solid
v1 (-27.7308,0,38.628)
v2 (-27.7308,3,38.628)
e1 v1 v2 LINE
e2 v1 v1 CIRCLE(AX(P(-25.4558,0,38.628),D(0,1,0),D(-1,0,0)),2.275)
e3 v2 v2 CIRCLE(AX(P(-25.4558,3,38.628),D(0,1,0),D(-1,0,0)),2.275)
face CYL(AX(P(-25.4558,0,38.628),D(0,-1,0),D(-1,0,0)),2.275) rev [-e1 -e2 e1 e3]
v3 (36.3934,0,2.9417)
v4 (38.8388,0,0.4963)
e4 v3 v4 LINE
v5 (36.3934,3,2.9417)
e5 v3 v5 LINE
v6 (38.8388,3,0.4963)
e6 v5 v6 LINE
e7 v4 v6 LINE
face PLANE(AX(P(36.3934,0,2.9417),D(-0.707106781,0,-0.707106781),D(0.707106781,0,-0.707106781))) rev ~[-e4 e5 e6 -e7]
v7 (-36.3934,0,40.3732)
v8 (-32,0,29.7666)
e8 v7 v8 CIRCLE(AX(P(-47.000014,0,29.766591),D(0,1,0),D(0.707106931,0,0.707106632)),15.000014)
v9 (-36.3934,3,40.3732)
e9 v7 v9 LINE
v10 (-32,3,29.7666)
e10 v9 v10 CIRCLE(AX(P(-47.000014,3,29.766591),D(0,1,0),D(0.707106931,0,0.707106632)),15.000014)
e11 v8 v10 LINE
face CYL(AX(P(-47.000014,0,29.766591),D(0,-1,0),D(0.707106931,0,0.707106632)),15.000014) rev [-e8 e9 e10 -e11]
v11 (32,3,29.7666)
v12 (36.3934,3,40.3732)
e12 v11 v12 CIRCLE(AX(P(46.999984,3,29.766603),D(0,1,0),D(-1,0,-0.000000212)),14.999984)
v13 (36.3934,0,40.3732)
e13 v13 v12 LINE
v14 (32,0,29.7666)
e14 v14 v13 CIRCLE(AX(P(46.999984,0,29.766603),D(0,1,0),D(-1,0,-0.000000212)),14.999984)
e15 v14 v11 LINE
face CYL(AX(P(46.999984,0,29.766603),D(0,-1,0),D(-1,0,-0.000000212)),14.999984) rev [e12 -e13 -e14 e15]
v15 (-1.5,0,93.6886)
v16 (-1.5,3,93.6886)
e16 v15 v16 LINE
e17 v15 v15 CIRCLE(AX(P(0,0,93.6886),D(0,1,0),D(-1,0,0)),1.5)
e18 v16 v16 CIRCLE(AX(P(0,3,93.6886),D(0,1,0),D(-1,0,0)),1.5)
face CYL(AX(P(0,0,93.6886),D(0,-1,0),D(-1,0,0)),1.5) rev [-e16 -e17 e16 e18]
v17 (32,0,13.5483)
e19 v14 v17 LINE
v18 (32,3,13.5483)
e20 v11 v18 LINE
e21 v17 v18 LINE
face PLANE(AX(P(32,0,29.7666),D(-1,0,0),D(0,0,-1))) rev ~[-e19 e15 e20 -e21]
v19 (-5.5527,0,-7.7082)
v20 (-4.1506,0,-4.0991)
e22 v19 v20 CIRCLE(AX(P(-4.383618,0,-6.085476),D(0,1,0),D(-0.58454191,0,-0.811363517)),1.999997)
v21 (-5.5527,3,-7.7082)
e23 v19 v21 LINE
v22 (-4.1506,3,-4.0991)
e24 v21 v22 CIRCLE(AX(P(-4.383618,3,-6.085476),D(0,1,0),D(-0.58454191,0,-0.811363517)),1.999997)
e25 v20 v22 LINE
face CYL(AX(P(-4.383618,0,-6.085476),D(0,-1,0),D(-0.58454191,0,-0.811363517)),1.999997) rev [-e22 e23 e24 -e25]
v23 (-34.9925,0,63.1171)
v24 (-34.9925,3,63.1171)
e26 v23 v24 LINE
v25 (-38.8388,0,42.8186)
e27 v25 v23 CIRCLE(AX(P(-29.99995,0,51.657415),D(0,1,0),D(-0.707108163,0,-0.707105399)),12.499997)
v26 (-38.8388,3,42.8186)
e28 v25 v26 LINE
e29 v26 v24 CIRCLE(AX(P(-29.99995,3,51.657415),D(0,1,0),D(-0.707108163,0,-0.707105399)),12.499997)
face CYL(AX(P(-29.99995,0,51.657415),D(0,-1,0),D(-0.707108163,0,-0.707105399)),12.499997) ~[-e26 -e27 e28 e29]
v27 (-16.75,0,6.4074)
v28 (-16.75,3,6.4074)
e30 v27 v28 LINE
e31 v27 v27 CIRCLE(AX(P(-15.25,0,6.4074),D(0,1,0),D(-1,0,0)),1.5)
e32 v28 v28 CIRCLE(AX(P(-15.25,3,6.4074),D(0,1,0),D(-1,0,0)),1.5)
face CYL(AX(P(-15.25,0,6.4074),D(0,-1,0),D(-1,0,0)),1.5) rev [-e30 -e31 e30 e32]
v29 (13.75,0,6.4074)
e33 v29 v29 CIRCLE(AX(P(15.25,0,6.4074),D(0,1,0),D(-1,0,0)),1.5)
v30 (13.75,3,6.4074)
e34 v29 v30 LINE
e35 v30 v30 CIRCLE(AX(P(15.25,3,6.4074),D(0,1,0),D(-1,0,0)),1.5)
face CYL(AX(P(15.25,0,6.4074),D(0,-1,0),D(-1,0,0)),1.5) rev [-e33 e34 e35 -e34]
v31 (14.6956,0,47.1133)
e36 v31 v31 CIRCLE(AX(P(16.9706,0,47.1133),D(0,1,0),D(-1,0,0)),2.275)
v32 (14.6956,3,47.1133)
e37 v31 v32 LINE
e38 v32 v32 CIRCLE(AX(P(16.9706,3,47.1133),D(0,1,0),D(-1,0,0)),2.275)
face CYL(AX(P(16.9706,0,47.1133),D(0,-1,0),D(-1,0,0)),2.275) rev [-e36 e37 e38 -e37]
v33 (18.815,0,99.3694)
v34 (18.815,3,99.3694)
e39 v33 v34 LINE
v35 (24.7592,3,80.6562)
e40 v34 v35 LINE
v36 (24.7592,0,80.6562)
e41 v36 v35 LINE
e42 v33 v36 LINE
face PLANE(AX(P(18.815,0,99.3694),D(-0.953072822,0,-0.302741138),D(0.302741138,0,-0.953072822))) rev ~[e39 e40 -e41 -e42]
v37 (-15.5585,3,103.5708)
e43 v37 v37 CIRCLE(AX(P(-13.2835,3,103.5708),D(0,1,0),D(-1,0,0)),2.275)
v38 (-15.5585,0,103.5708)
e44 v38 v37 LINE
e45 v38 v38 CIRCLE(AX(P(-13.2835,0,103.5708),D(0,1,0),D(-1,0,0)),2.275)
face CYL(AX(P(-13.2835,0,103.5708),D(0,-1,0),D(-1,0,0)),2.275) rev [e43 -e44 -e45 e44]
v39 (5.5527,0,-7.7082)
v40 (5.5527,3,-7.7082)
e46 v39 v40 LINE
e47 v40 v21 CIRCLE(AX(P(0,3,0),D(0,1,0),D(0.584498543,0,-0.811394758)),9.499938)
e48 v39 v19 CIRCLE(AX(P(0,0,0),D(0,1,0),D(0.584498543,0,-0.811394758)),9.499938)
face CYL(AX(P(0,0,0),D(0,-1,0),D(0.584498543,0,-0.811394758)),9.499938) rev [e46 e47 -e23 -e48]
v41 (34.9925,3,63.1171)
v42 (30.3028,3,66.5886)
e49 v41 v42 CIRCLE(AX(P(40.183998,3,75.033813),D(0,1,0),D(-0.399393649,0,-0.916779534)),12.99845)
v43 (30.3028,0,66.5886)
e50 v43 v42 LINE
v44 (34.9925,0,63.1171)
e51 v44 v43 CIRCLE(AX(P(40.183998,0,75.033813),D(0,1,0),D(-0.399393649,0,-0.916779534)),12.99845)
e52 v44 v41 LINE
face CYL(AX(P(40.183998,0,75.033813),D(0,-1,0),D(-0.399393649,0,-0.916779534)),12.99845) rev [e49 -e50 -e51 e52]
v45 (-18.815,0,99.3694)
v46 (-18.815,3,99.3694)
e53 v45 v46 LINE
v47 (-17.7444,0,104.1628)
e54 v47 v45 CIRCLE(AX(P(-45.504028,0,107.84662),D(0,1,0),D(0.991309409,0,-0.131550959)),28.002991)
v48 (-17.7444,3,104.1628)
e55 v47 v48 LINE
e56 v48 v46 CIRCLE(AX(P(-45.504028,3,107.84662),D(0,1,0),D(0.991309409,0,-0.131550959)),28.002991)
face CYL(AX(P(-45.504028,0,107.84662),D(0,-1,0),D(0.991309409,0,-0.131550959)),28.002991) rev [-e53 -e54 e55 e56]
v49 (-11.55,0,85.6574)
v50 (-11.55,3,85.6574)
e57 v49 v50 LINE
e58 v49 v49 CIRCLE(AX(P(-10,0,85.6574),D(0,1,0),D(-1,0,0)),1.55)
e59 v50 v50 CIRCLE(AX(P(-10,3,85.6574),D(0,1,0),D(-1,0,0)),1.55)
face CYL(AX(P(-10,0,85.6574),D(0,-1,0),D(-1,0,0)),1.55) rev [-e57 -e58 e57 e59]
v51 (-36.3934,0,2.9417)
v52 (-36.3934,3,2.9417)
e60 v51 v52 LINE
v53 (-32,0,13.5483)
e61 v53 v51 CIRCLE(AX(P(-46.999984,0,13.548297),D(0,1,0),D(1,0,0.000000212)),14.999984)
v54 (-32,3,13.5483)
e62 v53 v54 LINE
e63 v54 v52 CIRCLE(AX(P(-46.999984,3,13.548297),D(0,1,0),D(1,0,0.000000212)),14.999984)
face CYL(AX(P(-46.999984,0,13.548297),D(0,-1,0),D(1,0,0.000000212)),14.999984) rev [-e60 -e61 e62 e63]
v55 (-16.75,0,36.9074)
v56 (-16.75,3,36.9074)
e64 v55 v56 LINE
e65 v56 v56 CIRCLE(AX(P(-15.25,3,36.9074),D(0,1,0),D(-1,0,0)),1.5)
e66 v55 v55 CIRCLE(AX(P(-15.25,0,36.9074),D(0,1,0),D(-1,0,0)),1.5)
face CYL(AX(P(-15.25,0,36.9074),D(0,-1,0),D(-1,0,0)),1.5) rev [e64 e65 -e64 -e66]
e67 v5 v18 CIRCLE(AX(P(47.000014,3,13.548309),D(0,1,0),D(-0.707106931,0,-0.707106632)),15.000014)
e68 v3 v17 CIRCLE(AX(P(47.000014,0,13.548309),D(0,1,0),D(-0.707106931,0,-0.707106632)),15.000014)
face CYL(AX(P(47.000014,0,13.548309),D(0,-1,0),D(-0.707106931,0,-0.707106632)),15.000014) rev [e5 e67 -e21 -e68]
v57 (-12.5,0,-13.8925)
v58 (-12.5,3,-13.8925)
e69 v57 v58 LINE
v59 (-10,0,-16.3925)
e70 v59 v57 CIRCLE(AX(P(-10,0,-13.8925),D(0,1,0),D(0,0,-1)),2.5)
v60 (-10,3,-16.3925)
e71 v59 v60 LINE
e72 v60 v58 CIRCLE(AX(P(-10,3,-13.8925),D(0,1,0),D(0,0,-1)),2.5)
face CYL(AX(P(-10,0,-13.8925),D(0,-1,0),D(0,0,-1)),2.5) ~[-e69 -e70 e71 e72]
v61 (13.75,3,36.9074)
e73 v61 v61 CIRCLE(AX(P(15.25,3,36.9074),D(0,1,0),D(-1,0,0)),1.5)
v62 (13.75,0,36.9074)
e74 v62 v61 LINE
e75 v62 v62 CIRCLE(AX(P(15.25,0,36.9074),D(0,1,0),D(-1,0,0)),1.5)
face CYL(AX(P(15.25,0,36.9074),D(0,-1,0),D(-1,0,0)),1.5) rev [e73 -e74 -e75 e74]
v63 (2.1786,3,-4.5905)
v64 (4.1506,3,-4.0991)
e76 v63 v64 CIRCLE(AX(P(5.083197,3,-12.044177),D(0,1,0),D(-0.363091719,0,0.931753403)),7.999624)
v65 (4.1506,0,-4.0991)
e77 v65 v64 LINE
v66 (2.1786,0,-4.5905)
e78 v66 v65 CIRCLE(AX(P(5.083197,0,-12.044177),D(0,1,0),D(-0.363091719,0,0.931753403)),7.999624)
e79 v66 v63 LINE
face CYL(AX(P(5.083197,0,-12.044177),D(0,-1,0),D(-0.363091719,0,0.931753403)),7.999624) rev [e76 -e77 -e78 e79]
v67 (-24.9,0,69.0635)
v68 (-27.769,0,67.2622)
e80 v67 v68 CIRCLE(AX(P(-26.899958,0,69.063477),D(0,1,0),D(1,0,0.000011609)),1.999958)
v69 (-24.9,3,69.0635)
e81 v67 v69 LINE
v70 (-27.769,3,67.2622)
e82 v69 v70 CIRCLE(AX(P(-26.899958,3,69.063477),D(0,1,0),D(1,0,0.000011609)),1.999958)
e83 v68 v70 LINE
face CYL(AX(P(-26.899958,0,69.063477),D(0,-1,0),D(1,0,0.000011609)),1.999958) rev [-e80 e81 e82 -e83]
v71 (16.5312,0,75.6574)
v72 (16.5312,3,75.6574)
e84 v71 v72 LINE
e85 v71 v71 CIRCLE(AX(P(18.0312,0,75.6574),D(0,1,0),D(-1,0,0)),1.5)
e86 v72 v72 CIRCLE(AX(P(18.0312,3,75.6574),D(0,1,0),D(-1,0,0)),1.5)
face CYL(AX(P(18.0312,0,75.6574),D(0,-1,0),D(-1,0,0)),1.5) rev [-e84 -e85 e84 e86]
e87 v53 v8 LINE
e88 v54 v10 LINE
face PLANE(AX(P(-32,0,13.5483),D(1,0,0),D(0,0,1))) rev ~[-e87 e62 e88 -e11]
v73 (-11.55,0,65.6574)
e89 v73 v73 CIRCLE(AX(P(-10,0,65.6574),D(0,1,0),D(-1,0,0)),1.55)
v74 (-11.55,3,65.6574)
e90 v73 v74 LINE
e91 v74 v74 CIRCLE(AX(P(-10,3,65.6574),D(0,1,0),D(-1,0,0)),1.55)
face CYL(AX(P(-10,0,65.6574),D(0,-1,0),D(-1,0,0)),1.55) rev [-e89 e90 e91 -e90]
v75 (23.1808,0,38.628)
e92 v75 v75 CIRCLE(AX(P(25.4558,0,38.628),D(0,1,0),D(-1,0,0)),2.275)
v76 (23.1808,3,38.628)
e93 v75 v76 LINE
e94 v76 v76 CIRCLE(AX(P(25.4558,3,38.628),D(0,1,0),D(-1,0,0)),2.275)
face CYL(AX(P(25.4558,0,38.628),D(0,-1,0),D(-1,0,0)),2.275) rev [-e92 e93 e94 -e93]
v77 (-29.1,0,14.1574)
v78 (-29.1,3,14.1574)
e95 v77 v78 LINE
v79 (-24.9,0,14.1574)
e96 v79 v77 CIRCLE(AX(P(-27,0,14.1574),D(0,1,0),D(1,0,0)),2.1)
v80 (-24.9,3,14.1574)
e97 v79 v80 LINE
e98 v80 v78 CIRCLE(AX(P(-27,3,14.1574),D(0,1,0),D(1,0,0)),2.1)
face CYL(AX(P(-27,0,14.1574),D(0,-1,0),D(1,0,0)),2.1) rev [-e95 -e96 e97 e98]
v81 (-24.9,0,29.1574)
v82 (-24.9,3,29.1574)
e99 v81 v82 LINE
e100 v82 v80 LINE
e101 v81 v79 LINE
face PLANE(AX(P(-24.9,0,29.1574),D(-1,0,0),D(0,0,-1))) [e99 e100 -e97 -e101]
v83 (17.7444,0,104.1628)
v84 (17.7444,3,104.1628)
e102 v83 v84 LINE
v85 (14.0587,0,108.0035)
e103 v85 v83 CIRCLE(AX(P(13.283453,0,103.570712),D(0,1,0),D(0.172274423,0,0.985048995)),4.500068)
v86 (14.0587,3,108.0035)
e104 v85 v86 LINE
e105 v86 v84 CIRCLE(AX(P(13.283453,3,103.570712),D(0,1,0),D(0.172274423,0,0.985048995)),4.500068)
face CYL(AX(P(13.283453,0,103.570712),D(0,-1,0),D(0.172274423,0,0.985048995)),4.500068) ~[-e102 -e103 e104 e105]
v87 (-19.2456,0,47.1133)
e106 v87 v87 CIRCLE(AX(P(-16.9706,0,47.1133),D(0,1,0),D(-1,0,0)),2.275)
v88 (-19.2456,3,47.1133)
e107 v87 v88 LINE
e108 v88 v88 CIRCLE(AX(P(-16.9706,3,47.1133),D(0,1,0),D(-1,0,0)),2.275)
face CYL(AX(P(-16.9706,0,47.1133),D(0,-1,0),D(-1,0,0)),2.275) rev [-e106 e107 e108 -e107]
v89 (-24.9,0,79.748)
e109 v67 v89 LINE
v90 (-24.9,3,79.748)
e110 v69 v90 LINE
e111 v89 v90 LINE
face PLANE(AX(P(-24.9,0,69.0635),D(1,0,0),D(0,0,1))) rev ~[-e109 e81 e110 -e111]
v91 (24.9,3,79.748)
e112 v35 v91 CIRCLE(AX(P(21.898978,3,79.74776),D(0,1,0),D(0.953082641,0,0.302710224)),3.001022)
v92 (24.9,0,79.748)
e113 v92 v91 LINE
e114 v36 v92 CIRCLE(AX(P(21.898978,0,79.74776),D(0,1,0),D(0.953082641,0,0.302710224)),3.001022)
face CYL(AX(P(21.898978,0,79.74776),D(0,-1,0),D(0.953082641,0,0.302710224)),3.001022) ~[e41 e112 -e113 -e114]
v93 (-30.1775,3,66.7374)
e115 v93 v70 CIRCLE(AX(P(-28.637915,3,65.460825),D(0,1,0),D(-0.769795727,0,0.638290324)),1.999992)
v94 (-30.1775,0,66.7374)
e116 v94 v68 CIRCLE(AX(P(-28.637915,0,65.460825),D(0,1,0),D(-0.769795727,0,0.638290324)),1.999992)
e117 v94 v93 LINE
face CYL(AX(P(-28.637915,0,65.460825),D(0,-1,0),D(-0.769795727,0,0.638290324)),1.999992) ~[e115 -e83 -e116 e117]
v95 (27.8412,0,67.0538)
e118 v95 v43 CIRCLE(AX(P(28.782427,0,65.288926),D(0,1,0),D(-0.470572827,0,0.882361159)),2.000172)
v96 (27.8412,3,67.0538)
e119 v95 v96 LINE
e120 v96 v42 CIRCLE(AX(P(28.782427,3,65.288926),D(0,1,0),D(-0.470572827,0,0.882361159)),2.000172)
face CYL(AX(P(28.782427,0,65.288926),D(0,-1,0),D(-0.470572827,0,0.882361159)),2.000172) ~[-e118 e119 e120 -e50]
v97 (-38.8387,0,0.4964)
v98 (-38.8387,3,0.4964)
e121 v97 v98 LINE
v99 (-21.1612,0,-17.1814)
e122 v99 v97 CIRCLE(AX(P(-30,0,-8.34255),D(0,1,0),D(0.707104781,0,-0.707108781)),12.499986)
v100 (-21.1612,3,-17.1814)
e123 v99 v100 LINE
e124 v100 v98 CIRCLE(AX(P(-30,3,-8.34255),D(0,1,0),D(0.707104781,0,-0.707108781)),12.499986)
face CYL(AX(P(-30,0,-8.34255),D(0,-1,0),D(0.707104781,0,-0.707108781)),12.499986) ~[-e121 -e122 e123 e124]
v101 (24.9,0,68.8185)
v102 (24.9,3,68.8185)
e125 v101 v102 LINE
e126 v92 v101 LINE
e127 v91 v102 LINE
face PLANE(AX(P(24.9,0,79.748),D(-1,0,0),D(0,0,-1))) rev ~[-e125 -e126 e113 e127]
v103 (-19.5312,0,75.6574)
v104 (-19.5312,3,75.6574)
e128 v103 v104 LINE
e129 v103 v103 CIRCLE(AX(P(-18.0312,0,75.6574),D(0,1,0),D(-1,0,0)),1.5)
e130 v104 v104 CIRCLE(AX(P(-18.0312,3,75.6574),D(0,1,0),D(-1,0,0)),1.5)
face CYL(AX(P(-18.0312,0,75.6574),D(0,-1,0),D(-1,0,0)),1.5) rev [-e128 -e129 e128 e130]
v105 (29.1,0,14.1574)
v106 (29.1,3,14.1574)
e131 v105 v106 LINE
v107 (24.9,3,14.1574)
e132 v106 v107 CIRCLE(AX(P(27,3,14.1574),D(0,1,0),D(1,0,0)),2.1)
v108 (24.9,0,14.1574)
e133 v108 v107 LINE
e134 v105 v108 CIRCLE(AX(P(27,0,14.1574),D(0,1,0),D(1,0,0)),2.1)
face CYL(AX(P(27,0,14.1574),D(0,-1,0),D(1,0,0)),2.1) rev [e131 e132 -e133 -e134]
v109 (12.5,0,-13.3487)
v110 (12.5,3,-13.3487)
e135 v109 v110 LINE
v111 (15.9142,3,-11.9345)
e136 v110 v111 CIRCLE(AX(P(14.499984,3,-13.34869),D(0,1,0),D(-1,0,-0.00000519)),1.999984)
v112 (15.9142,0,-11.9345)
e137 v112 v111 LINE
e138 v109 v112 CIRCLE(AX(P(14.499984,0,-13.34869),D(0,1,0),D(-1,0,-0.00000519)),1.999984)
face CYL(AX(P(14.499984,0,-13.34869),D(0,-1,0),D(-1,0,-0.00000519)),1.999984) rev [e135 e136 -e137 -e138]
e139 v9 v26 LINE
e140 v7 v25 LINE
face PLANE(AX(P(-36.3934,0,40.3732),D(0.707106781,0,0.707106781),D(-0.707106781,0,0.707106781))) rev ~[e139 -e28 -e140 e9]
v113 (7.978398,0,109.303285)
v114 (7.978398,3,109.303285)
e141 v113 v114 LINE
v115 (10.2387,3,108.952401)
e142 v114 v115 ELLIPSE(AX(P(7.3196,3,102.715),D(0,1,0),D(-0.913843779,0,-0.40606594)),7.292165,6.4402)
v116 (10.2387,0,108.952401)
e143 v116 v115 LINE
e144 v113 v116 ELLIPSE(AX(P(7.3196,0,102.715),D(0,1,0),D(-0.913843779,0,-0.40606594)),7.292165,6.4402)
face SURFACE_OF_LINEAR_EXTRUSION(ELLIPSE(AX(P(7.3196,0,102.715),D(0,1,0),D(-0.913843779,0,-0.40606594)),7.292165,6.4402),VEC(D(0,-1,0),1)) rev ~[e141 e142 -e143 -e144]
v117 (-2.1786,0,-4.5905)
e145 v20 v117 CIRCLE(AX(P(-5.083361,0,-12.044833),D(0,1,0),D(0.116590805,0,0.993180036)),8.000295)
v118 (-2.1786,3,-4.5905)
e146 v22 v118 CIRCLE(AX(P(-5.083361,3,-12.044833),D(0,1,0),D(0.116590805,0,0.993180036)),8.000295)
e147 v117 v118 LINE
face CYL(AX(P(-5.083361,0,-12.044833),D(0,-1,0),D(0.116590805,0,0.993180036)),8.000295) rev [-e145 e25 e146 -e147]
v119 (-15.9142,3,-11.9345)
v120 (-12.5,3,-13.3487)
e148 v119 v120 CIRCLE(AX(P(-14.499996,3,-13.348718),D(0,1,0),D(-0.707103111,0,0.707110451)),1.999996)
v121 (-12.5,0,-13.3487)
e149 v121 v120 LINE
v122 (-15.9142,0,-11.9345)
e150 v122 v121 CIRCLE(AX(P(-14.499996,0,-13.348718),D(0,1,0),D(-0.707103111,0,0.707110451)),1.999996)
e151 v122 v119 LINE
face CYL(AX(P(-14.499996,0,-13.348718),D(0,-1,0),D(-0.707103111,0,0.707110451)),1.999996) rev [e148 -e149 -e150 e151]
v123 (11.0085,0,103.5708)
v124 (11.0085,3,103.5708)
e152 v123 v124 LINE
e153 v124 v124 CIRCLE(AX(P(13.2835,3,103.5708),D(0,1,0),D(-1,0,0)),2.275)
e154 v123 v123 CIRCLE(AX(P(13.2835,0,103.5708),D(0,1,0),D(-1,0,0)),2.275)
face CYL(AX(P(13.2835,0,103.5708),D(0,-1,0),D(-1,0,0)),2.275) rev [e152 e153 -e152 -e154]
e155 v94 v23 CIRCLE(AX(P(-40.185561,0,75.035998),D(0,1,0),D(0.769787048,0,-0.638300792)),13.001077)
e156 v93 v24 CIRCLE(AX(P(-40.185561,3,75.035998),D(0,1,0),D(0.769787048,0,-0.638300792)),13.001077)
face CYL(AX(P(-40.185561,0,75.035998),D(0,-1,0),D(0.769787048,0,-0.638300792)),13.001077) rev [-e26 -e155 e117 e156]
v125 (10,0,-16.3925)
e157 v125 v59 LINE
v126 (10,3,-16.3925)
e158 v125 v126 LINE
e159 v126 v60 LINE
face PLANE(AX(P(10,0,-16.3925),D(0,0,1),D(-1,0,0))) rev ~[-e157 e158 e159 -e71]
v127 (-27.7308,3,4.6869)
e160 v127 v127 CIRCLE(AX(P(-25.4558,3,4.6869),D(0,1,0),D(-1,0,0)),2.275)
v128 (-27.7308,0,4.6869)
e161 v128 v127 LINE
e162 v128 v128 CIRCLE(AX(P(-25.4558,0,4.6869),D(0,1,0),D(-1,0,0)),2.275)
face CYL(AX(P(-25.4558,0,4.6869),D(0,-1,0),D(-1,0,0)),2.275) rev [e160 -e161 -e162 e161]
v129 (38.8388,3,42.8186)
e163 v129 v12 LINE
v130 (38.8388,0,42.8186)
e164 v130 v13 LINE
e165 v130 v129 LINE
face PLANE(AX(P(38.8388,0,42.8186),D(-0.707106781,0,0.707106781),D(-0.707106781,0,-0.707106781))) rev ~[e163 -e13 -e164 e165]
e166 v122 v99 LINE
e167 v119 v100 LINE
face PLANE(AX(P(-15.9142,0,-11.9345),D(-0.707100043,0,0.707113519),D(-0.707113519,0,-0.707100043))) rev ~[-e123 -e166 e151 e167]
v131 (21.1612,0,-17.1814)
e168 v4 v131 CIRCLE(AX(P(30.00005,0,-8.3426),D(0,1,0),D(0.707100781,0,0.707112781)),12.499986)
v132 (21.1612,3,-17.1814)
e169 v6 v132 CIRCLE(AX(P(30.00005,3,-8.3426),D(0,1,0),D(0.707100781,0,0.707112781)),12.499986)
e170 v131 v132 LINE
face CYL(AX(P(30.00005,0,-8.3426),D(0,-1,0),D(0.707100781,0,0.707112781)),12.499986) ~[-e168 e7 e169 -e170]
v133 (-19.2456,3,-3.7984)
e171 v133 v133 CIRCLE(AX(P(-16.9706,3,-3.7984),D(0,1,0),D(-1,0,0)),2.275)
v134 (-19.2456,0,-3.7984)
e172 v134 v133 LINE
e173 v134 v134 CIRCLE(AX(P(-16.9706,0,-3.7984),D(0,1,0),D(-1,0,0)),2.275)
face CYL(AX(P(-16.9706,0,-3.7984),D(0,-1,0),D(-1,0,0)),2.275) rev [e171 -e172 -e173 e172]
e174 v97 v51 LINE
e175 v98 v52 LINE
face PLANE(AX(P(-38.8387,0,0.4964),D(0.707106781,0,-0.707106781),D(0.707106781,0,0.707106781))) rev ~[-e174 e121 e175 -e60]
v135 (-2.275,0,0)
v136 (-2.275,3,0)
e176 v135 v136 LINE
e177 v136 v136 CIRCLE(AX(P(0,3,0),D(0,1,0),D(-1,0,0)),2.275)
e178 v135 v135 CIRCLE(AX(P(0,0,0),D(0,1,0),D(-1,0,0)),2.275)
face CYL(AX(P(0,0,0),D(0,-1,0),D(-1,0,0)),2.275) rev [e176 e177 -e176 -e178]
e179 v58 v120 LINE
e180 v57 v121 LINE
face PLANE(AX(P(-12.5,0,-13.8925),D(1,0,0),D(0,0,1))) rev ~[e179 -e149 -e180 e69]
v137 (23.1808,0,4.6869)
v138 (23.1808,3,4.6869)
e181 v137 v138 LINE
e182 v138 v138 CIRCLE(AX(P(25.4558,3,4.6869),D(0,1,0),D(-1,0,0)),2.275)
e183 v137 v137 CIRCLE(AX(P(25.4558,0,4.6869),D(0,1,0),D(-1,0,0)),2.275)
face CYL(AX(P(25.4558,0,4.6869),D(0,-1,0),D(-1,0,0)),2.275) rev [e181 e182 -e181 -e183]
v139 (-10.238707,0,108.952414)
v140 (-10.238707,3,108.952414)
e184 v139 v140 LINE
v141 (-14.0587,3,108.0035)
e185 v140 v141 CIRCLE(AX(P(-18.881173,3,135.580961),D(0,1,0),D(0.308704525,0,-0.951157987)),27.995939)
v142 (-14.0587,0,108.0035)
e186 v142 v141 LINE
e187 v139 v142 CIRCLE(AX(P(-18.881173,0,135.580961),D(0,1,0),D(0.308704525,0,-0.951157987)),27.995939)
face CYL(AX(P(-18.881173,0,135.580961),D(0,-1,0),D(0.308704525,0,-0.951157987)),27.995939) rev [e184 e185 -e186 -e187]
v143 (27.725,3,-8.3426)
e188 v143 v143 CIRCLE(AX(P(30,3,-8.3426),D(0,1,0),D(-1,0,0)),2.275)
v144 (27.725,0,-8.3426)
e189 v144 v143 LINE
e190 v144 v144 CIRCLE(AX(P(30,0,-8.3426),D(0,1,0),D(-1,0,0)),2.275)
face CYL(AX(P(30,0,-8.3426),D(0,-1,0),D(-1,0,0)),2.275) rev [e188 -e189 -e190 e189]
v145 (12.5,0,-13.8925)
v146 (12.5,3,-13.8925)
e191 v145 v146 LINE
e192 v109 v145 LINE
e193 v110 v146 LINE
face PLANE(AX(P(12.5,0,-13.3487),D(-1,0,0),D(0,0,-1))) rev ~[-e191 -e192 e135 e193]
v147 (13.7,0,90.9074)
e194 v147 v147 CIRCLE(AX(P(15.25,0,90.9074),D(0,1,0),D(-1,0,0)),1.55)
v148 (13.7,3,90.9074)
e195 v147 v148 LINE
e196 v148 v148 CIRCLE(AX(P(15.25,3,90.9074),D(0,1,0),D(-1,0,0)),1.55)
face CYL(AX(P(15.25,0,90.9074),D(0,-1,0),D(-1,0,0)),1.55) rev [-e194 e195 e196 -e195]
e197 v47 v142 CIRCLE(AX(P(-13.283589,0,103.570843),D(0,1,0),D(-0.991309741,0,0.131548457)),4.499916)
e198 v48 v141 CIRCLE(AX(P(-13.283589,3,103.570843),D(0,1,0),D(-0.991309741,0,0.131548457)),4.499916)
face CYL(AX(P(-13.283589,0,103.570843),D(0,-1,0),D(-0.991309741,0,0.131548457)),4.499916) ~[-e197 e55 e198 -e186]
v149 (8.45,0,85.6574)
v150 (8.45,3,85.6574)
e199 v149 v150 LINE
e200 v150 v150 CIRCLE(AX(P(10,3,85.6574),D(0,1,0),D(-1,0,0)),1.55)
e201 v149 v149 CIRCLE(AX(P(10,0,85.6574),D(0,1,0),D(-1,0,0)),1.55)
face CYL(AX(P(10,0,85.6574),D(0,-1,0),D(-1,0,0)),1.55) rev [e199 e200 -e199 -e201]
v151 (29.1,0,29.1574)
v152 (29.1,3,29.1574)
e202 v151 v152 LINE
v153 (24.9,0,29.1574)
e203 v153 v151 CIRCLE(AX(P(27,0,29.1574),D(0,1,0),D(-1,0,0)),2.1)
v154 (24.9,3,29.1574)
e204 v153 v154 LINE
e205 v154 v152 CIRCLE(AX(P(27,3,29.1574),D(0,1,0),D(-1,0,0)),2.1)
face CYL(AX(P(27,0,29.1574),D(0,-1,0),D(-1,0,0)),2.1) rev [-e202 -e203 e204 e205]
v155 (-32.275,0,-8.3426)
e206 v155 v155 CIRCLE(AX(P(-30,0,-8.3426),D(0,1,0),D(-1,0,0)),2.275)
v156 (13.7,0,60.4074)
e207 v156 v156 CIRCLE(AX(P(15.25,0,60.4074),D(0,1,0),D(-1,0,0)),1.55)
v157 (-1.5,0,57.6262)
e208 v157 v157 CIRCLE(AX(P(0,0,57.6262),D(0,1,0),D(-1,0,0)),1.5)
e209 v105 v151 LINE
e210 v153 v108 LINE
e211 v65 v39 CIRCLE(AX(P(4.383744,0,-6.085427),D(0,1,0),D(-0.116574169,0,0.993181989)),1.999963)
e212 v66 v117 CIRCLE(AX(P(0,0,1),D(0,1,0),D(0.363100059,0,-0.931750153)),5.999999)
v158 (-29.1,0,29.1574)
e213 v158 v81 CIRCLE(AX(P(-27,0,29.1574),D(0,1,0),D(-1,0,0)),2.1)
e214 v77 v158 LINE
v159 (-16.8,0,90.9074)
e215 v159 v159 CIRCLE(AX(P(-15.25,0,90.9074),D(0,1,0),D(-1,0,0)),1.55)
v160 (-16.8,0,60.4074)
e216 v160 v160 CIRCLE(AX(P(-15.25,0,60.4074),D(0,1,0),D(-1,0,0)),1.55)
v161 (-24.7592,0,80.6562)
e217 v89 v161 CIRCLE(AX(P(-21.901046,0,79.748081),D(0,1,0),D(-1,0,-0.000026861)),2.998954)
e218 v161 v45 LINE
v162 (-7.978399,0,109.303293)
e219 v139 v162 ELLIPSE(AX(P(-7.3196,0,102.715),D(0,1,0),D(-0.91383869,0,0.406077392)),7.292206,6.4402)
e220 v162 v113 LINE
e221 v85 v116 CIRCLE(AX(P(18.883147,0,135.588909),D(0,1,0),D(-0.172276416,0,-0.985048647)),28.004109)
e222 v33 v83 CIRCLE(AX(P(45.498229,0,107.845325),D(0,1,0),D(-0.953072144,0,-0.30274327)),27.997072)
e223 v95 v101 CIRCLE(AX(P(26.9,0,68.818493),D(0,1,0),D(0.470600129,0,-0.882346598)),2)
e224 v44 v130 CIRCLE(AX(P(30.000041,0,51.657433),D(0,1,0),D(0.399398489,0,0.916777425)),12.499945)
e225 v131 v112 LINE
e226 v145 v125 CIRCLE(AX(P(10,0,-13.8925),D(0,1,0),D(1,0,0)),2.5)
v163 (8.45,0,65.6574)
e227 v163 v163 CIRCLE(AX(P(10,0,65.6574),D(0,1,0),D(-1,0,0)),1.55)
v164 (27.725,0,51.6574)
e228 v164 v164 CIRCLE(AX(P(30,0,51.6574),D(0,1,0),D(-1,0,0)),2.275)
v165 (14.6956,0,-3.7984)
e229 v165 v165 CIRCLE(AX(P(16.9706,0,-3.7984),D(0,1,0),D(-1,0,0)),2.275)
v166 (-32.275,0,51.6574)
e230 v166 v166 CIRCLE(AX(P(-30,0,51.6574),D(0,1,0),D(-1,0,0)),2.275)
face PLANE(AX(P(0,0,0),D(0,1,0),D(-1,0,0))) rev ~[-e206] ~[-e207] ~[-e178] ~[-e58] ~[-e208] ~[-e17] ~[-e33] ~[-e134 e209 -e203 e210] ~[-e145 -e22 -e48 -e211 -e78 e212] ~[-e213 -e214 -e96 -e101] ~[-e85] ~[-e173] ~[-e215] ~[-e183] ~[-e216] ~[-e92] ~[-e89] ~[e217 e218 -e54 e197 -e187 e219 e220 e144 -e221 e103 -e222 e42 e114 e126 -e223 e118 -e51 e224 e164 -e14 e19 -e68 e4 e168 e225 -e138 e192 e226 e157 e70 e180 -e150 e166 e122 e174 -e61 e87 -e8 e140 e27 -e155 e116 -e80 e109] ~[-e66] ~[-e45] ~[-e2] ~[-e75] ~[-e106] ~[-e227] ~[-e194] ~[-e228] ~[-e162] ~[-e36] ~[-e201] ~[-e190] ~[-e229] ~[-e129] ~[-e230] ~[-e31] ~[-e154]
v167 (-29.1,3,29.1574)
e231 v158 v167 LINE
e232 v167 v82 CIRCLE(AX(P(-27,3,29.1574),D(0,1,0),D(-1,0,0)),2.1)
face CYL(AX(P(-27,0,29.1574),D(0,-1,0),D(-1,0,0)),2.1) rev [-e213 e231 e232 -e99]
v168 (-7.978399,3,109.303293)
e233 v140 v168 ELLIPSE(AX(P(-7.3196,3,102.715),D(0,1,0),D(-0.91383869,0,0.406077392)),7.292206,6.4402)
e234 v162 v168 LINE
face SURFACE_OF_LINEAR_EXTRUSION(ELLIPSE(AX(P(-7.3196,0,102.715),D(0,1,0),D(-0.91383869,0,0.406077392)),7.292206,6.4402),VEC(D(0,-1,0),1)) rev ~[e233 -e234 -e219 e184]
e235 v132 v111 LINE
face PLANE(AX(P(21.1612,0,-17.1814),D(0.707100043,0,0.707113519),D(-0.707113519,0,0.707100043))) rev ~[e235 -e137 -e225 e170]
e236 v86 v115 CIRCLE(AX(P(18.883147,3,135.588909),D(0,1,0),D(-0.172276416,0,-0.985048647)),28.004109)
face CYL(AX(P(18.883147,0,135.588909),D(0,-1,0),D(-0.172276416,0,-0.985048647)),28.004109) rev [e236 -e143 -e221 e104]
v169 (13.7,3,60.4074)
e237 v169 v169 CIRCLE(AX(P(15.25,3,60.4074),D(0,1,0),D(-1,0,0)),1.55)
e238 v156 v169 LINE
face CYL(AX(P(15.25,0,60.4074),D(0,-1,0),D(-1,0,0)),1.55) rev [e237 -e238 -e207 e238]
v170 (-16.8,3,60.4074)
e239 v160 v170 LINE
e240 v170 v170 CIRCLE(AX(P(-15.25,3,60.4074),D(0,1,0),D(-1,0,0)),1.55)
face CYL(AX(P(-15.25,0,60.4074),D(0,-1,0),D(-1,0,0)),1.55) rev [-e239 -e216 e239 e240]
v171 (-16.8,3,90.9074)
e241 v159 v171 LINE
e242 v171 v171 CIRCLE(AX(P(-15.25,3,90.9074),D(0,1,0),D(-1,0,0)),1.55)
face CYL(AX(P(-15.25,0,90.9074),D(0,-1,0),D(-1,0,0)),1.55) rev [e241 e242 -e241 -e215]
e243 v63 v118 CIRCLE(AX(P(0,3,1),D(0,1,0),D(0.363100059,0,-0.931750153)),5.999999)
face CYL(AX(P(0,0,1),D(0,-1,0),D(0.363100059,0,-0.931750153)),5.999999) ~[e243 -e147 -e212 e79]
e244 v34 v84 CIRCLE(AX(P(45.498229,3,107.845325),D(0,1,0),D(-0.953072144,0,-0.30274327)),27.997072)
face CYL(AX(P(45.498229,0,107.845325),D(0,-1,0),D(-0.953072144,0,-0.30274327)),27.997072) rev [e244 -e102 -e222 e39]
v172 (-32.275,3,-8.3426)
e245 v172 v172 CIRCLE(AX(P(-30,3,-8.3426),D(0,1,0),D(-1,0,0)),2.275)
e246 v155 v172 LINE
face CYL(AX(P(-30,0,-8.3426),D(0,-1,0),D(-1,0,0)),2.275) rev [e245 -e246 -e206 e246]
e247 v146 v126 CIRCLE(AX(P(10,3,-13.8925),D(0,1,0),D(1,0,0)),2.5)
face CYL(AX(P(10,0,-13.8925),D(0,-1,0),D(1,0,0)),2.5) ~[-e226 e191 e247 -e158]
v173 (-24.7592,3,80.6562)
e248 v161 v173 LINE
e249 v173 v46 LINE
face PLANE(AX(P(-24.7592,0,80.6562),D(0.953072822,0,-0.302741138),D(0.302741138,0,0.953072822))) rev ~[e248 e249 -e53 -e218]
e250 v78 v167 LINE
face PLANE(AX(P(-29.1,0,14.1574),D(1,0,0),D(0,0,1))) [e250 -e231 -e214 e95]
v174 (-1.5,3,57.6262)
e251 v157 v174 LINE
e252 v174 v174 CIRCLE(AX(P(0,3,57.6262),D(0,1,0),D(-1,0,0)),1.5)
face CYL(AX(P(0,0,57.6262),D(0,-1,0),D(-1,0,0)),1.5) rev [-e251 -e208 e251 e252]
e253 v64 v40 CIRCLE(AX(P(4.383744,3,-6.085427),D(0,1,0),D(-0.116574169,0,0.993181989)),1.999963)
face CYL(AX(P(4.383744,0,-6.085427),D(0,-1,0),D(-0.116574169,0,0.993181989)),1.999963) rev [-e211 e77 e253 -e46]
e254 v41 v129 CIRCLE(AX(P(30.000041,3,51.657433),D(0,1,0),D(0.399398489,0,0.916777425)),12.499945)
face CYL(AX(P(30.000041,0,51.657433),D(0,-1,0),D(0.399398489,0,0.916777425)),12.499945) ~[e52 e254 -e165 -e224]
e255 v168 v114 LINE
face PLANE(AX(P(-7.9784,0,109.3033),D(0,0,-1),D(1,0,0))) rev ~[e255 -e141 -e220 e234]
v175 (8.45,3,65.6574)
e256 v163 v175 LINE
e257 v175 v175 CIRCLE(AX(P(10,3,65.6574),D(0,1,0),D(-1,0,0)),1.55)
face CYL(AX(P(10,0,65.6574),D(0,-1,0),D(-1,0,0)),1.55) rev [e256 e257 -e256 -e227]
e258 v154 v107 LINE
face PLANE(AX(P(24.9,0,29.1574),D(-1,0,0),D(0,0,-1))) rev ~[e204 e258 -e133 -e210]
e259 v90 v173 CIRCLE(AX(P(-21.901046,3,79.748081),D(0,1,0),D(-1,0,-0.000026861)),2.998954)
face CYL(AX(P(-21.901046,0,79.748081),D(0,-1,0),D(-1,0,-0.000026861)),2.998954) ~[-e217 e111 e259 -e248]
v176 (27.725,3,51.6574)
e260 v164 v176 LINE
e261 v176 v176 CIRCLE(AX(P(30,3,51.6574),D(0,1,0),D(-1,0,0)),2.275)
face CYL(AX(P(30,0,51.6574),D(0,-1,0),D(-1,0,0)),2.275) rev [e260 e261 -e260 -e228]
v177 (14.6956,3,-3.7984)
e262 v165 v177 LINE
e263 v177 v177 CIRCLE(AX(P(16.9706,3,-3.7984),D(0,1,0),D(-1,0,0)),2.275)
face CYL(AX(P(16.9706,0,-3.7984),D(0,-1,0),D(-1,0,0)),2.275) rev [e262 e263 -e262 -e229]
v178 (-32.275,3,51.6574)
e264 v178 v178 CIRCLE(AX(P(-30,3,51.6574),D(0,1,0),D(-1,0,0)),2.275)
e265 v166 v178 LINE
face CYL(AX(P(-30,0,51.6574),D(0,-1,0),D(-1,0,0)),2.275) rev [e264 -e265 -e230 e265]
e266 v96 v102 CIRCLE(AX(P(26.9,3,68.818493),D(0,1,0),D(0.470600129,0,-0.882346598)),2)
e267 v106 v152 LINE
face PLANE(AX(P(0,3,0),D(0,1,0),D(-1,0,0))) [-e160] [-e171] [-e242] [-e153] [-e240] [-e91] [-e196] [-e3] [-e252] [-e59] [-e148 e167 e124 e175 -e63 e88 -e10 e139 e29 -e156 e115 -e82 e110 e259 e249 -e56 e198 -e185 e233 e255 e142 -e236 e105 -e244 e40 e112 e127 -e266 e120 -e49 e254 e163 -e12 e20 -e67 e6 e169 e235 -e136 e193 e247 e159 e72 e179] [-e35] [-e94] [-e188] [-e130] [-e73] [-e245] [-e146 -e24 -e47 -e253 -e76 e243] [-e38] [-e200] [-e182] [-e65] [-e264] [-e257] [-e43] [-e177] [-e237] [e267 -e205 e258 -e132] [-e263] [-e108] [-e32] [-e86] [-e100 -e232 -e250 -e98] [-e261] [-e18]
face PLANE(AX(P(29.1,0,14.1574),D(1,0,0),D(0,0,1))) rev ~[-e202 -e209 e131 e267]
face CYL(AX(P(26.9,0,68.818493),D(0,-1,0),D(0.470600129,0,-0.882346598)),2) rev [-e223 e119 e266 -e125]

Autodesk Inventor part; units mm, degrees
ref_plane "YZ Plane" through (0, 0, 0) normal (1, 0, 0) x (0, 1, 0)
ref_plane "XZ Plane" through (0, 0, 0) normal (0, 1, 0) x (-1, 0, 0)
ref_plane "XY Plane" through (0, 0, 0) normal (0, 0, 1) x (1, 0, 0)
sketch "Sketch1" plane through (0, 0, 0) normal (0, 1, 0) x (-1, 0, 0)
  arc A0 (24.9, 14.1574) -> (29.1, 14.1574) centre (27, 14.1574) ccw
  line L0 (29.1, 14.1574) -> (29.1, 29.1574)
  arc A1 (29.1, 29.1574) -> (24.9, 29.1574) centre (27, 29.1574) ccw
  line L1 (24.9, 29.1574) -> (24.9, 14.1574)
  arc A2 (4.1506, -4.0991) -> (2.1786, -4.5905) centre (5.0833, -12.0445) ccw
  arc A3 (-2.1786, -4.5905) -> (2.1786, -4.5905) centre (0, 1) ccw
  arc A4 (-2.1786, -4.5905) -> (-4.1506, -4.0991) centre (-5.0833, -12.0445) ccw
  arc A5 (-4.1506, -4.0991) -> (-5.5527, -7.7082) centre (-4.3837, -6.0855) ccw
  arc A6 (-5.5527, -7.7082) -> (5.5527, -7.7082) centre (0, 0) ccw
  arc A7 (5.5527, -7.7082) -> (4.1506, -4.0991) centre (4.3837, -6.0855) ccw
  line L2 (-24.9, 29.1574) -> (-24.9, 14.1574)
  arc A8 (-29.1, 14.1574) -> (-24.9, 14.1574) centre (-27, 14.1574) ccw
  line L3 (-29.1, 14.1574) -> (-29.1, 29.1574)
  arc A9 (-24.9, 29.1574) -> (-29.1, 29.1574) centre (-27, 29.1574) ccw
  ellipse E0 centre (7.3196, 102.715) end of major axis (13.9835, 105.6762) minor radius 6.4402 (10.2387, 108.9524) -> (7.9784, 109.3033) ccw
  line L4 (7.9784, 109.3033) -> (-7.9784, 109.3033)
  ellipse E1 centre (-7.3196, 102.715) end of major axis (-0.6557, 99.7539) minor radius 6.4402 (-7.9784, 109.3033) -> (-10.2387, 108.9524) ccw
  arc A10 (-14.0587, 108.0035) -> (-10.2387, 108.9524) centre (-18.8823, 135.5849) ccw
  arc A11 (-14.0587, 108.0035) -> (-17.7444, 104.1628) centre (-13.2835, 103.5708) ccw
  arc A12 (-18.815, 99.3694) -> (-17.7444, 104.1628) centre (-45.5011, 107.8461) ccw
  line L5 (-18.815, 99.3694) -> (-24.7592, 80.6562)
  arc A13 (-24.7592, 80.6562) -> (-24.9, 79.748) centre (-21.9, 79.748) ccw
  line L6 (-24.9, 79.748) -> (-24.9, 68.8185)
  arc A14 (-27.8412, 67.0538) -> (-24.9, 68.8185) centre (-26.9, 68.8185) ccw
  arc A15 (-27.8412, 67.0538) -> (-30.3028, 66.5886) centre (-28.7824, 65.2891) ccw
  arc A16 (-34.9925, 63.1171) -> (-30.3028, 66.5886) centre (-40.1848, 75.0352) ccw
  arc A17 (-34.9925, 63.1171) -> (-38.8388, 42.8186) centre (-30, 51.6574) ccw
  line L7 (-38.8388, 42.8186) -> (-36.3934, 40.3732)
  arc A18 (-32, 29.7666) -> (-36.3934, 40.3732) centre (-47, 29.7666) ccw
  line L8 (-32, 29.7666) -> (-32, 13.5483)
  arc A19 (-36.3934, 2.9417) -> (-32, 13.5483) centre (-47, 13.5483) ccw
  line L9 (-36.3934, 2.9417) -> (-38.8388, 0.4963)
  arc A20 (-38.8388, 0.4963) -> (-21.1612, -17.1814) centre (-30, -8.3426) ccw
  line L10 (-21.1612, -17.1814) -> (-15.9142, -11.9345)
  arc A21 (-12.5, -13.3487) -> (-15.9142, -11.9345) centre (-14.5, -13.3487) ccw
  line L11 (-12.5, -13.3487) -> (-12.5, -13.8925)
  arc A22 (-12.5, -13.8925) -> (-10, -16.3925) centre (-10, -13.8925) ccw
  line L12 (-10, -16.3925) -> (10, -16.3925)
  arc A23 (10, -16.3925) -> (12.5, -13.8925) centre (10, -13.8925) ccw
  line L13 (12.5, -13.8925) -> (12.5, -13.3487)
  arc A24 (15.9142, -11.9345) -> (12.5, -13.3487) centre (14.5, -13.3487) ccw
  line L14 (15.9142, -11.9345) -> (21.1612, -17.1814)
  arc A25 (21.1612, -17.1814) -> (38.8387, 0.4964) centre (30, -8.3426) ccw
  line L15 (38.8387, 0.4964) -> (36.3934, 2.9417)
  arc A26 (32, 13.5483) -> (36.3934, 2.9417) centre (47, 13.5483) ccw
  line L16 (32, 13.5483) -> (32, 29.7666)
  arc A27 (36.3934, 40.3732) -> (32, 29.7666) centre (47, 29.7666) ccw
  line L17 (36.3934, 40.3732) -> (38.8388, 42.8186)
  arc A28 (38.8388, 42.8186) -> (34.9925, 63.1171) centre (30, 51.6574) ccw
  arc A29 (30.1775, 66.7374) -> (34.9925, 63.1171) centre (40.1848, 75.0352) ccw
  arc A30 (30.1775, 66.7374) -> (27.769, 67.2622) centre (28.6379, 65.4608) ccw
  arc A31 (24.9, 69.0635) -> (27.769, 67.2622) centre (26.9, 69.0635) ccw
  line L18 (24.9, 69.0635) -> (24.9, 79.748)
  arc A32 (24.9, 79.748) -> (24.7592, 80.6562) centre (21.9, 79.748) ccw
  line L19 (24.7592, 80.6562) -> (18.815, 99.3694)
  arc A33 (17.7444, 104.1628) -> (18.815, 99.3694) centre (45.5011, 107.8461) ccw
  arc A34 (17.7444, 104.1628) -> (14.0587, 108.0035) centre (13.2835, 103.5708) ccw
  arc A35 (10.2387, 108.9524) -> (14.0587, 108.0035) centre (18.8823, 135.5849) ccw
  circle A36 centre (15.25, 6.4074) radius 1.5
  circle A37 centre (-15.25, 36.9074) radius 1.5
  circle A38 centre (-15.25, 6.4074) radius 1.5
  circle A39 centre (15.25, 36.9074) radius 1.5
  circle A40 centre (0, 93.6886) radius 1.5
  circle A41 centre (0, 57.6262) radius 1.5
  circle A42 centre (18.0312, 75.6574) radius 1.5
  circle A43 centre (-18.0312, 75.6574) radius 1.5
  circle A44 centre (10, 31.6574) radius 1.5
  circle A45 centre (-10, 11.6574) radius 1.5
  circle A46 centre (10, 11.6574) radius 1.5
  circle A47 centre (-10, 31.6574) radius 1.5
  circle A48 centre (-30, 51.6574) radius 2.275
  circle A49 centre (-25.4558, 4.6869) radius 2.275
  circle A50 centre (30, 51.6574) radius 2.275
  circle A51 centre (25.4558, 4.6869) radius 2.275
  circle A52 centre (25.4558, 38.628) radius 2.275
  circle A53 centre (-16.9706, -3.7984) radius 2.275
  circle A54 centre (-16.9706, 47.1133) radius 2.275
  circle A55 centre (-13.2835, 103.5708) radius 2.275
  circle A56 centre (-30, -8.3426) radius 2.275
  circle A57 centre (16.9706, 47.1133) radius 2.275
  circle A58 centre (16.9706, -3.7984) radius 2.275
  circle A59 centre (30, -8.3426) radius 2.275
  circle A60 centre (0, 0) radius 2.275
  circle A61 centre (-25.4558, 38.628) radius 2.275
  circle A62 centre (13.2835, 103.5708) radius 2.275
  circle A63 centre (-15.25, 60.4074) radius 1.55
  circle A64 centre (15.25, 60.4074) radius 1.55
  circle A65 centre (-10, 65.6574) radius 1.55
  circle A66 centre (10, 65.6574) radius 1.55
  circle A67 centre (10, 85.6574) radius 1.55
  circle A68 centre (-10, 85.6574) radius 1.55
  circle A69 centre (-15.25, 90.9074) radius 1.55
  circle A70 centre (15.25, 90.9074) radius 1.55
  point P0 (10.2387, 108.9524)
  point P1 (7.9784, 109.3033)
  point P2 (-7.9784, 109.3033)
  point P3 (-10.2387, 108.9524)
  point P4 (-14.0587, 108.0035)
  point P5 (-17.7444, 104.1628)
  point P6 (-18.815, 99.3694)
  point P7 (-34.9925, 63.1171)
  point P8 (-38.8388, 42.8186)
  point P9 (15.9142, -11.9345)
  point P10 (21.1612, -17.1814)
  point P11 (32, 13.5483)
  point P12 (32, 29.7666)
  point P13 (34.9925, 63.1171)
  point P14 (30.1775, 66.7374)
  point P15 (27.769, 67.2622)
  point P16 (24.7592, 80.6562)
  point P17 (17.7444, 104.1628)
  point P18 (14.0587, 108.0035)
  point P19 (29.1, 29.1574)
  point P20 (29.1, 14.1574)
  point P21 (24.9, 29.1574)
  point P22 (-2.1786, -4.5905)
  point P23 (2.1786, -4.5905)
  point P24 (-5.5527, -7.7082)
  point P25 (-4.1506, -4.0991)
  point P26 (-24.9, 29.1574)
extrude "Extrusion1" add sketch "Sketch1" along normal blind 3
sketch "Sketch2" plane through (0, 3, 0) normal (0, 1, 0) x (1, 0, 0)
  circle A0 centre (-10, -11.6574) radius 1.5 projected
  circle A1 centre (-10, -31.6574) radius 1.5 projected
  circle A2 centre (10, -11.6574) radius 1.5 projected
  circle A3 centre (10, -31.6574) radius 1.5 projected
  point P0 (0, 0)
extrude "Extrusion2" add sketch "Sketch2" against normal blind 3
properties part number "Kauri mid plate V3"
